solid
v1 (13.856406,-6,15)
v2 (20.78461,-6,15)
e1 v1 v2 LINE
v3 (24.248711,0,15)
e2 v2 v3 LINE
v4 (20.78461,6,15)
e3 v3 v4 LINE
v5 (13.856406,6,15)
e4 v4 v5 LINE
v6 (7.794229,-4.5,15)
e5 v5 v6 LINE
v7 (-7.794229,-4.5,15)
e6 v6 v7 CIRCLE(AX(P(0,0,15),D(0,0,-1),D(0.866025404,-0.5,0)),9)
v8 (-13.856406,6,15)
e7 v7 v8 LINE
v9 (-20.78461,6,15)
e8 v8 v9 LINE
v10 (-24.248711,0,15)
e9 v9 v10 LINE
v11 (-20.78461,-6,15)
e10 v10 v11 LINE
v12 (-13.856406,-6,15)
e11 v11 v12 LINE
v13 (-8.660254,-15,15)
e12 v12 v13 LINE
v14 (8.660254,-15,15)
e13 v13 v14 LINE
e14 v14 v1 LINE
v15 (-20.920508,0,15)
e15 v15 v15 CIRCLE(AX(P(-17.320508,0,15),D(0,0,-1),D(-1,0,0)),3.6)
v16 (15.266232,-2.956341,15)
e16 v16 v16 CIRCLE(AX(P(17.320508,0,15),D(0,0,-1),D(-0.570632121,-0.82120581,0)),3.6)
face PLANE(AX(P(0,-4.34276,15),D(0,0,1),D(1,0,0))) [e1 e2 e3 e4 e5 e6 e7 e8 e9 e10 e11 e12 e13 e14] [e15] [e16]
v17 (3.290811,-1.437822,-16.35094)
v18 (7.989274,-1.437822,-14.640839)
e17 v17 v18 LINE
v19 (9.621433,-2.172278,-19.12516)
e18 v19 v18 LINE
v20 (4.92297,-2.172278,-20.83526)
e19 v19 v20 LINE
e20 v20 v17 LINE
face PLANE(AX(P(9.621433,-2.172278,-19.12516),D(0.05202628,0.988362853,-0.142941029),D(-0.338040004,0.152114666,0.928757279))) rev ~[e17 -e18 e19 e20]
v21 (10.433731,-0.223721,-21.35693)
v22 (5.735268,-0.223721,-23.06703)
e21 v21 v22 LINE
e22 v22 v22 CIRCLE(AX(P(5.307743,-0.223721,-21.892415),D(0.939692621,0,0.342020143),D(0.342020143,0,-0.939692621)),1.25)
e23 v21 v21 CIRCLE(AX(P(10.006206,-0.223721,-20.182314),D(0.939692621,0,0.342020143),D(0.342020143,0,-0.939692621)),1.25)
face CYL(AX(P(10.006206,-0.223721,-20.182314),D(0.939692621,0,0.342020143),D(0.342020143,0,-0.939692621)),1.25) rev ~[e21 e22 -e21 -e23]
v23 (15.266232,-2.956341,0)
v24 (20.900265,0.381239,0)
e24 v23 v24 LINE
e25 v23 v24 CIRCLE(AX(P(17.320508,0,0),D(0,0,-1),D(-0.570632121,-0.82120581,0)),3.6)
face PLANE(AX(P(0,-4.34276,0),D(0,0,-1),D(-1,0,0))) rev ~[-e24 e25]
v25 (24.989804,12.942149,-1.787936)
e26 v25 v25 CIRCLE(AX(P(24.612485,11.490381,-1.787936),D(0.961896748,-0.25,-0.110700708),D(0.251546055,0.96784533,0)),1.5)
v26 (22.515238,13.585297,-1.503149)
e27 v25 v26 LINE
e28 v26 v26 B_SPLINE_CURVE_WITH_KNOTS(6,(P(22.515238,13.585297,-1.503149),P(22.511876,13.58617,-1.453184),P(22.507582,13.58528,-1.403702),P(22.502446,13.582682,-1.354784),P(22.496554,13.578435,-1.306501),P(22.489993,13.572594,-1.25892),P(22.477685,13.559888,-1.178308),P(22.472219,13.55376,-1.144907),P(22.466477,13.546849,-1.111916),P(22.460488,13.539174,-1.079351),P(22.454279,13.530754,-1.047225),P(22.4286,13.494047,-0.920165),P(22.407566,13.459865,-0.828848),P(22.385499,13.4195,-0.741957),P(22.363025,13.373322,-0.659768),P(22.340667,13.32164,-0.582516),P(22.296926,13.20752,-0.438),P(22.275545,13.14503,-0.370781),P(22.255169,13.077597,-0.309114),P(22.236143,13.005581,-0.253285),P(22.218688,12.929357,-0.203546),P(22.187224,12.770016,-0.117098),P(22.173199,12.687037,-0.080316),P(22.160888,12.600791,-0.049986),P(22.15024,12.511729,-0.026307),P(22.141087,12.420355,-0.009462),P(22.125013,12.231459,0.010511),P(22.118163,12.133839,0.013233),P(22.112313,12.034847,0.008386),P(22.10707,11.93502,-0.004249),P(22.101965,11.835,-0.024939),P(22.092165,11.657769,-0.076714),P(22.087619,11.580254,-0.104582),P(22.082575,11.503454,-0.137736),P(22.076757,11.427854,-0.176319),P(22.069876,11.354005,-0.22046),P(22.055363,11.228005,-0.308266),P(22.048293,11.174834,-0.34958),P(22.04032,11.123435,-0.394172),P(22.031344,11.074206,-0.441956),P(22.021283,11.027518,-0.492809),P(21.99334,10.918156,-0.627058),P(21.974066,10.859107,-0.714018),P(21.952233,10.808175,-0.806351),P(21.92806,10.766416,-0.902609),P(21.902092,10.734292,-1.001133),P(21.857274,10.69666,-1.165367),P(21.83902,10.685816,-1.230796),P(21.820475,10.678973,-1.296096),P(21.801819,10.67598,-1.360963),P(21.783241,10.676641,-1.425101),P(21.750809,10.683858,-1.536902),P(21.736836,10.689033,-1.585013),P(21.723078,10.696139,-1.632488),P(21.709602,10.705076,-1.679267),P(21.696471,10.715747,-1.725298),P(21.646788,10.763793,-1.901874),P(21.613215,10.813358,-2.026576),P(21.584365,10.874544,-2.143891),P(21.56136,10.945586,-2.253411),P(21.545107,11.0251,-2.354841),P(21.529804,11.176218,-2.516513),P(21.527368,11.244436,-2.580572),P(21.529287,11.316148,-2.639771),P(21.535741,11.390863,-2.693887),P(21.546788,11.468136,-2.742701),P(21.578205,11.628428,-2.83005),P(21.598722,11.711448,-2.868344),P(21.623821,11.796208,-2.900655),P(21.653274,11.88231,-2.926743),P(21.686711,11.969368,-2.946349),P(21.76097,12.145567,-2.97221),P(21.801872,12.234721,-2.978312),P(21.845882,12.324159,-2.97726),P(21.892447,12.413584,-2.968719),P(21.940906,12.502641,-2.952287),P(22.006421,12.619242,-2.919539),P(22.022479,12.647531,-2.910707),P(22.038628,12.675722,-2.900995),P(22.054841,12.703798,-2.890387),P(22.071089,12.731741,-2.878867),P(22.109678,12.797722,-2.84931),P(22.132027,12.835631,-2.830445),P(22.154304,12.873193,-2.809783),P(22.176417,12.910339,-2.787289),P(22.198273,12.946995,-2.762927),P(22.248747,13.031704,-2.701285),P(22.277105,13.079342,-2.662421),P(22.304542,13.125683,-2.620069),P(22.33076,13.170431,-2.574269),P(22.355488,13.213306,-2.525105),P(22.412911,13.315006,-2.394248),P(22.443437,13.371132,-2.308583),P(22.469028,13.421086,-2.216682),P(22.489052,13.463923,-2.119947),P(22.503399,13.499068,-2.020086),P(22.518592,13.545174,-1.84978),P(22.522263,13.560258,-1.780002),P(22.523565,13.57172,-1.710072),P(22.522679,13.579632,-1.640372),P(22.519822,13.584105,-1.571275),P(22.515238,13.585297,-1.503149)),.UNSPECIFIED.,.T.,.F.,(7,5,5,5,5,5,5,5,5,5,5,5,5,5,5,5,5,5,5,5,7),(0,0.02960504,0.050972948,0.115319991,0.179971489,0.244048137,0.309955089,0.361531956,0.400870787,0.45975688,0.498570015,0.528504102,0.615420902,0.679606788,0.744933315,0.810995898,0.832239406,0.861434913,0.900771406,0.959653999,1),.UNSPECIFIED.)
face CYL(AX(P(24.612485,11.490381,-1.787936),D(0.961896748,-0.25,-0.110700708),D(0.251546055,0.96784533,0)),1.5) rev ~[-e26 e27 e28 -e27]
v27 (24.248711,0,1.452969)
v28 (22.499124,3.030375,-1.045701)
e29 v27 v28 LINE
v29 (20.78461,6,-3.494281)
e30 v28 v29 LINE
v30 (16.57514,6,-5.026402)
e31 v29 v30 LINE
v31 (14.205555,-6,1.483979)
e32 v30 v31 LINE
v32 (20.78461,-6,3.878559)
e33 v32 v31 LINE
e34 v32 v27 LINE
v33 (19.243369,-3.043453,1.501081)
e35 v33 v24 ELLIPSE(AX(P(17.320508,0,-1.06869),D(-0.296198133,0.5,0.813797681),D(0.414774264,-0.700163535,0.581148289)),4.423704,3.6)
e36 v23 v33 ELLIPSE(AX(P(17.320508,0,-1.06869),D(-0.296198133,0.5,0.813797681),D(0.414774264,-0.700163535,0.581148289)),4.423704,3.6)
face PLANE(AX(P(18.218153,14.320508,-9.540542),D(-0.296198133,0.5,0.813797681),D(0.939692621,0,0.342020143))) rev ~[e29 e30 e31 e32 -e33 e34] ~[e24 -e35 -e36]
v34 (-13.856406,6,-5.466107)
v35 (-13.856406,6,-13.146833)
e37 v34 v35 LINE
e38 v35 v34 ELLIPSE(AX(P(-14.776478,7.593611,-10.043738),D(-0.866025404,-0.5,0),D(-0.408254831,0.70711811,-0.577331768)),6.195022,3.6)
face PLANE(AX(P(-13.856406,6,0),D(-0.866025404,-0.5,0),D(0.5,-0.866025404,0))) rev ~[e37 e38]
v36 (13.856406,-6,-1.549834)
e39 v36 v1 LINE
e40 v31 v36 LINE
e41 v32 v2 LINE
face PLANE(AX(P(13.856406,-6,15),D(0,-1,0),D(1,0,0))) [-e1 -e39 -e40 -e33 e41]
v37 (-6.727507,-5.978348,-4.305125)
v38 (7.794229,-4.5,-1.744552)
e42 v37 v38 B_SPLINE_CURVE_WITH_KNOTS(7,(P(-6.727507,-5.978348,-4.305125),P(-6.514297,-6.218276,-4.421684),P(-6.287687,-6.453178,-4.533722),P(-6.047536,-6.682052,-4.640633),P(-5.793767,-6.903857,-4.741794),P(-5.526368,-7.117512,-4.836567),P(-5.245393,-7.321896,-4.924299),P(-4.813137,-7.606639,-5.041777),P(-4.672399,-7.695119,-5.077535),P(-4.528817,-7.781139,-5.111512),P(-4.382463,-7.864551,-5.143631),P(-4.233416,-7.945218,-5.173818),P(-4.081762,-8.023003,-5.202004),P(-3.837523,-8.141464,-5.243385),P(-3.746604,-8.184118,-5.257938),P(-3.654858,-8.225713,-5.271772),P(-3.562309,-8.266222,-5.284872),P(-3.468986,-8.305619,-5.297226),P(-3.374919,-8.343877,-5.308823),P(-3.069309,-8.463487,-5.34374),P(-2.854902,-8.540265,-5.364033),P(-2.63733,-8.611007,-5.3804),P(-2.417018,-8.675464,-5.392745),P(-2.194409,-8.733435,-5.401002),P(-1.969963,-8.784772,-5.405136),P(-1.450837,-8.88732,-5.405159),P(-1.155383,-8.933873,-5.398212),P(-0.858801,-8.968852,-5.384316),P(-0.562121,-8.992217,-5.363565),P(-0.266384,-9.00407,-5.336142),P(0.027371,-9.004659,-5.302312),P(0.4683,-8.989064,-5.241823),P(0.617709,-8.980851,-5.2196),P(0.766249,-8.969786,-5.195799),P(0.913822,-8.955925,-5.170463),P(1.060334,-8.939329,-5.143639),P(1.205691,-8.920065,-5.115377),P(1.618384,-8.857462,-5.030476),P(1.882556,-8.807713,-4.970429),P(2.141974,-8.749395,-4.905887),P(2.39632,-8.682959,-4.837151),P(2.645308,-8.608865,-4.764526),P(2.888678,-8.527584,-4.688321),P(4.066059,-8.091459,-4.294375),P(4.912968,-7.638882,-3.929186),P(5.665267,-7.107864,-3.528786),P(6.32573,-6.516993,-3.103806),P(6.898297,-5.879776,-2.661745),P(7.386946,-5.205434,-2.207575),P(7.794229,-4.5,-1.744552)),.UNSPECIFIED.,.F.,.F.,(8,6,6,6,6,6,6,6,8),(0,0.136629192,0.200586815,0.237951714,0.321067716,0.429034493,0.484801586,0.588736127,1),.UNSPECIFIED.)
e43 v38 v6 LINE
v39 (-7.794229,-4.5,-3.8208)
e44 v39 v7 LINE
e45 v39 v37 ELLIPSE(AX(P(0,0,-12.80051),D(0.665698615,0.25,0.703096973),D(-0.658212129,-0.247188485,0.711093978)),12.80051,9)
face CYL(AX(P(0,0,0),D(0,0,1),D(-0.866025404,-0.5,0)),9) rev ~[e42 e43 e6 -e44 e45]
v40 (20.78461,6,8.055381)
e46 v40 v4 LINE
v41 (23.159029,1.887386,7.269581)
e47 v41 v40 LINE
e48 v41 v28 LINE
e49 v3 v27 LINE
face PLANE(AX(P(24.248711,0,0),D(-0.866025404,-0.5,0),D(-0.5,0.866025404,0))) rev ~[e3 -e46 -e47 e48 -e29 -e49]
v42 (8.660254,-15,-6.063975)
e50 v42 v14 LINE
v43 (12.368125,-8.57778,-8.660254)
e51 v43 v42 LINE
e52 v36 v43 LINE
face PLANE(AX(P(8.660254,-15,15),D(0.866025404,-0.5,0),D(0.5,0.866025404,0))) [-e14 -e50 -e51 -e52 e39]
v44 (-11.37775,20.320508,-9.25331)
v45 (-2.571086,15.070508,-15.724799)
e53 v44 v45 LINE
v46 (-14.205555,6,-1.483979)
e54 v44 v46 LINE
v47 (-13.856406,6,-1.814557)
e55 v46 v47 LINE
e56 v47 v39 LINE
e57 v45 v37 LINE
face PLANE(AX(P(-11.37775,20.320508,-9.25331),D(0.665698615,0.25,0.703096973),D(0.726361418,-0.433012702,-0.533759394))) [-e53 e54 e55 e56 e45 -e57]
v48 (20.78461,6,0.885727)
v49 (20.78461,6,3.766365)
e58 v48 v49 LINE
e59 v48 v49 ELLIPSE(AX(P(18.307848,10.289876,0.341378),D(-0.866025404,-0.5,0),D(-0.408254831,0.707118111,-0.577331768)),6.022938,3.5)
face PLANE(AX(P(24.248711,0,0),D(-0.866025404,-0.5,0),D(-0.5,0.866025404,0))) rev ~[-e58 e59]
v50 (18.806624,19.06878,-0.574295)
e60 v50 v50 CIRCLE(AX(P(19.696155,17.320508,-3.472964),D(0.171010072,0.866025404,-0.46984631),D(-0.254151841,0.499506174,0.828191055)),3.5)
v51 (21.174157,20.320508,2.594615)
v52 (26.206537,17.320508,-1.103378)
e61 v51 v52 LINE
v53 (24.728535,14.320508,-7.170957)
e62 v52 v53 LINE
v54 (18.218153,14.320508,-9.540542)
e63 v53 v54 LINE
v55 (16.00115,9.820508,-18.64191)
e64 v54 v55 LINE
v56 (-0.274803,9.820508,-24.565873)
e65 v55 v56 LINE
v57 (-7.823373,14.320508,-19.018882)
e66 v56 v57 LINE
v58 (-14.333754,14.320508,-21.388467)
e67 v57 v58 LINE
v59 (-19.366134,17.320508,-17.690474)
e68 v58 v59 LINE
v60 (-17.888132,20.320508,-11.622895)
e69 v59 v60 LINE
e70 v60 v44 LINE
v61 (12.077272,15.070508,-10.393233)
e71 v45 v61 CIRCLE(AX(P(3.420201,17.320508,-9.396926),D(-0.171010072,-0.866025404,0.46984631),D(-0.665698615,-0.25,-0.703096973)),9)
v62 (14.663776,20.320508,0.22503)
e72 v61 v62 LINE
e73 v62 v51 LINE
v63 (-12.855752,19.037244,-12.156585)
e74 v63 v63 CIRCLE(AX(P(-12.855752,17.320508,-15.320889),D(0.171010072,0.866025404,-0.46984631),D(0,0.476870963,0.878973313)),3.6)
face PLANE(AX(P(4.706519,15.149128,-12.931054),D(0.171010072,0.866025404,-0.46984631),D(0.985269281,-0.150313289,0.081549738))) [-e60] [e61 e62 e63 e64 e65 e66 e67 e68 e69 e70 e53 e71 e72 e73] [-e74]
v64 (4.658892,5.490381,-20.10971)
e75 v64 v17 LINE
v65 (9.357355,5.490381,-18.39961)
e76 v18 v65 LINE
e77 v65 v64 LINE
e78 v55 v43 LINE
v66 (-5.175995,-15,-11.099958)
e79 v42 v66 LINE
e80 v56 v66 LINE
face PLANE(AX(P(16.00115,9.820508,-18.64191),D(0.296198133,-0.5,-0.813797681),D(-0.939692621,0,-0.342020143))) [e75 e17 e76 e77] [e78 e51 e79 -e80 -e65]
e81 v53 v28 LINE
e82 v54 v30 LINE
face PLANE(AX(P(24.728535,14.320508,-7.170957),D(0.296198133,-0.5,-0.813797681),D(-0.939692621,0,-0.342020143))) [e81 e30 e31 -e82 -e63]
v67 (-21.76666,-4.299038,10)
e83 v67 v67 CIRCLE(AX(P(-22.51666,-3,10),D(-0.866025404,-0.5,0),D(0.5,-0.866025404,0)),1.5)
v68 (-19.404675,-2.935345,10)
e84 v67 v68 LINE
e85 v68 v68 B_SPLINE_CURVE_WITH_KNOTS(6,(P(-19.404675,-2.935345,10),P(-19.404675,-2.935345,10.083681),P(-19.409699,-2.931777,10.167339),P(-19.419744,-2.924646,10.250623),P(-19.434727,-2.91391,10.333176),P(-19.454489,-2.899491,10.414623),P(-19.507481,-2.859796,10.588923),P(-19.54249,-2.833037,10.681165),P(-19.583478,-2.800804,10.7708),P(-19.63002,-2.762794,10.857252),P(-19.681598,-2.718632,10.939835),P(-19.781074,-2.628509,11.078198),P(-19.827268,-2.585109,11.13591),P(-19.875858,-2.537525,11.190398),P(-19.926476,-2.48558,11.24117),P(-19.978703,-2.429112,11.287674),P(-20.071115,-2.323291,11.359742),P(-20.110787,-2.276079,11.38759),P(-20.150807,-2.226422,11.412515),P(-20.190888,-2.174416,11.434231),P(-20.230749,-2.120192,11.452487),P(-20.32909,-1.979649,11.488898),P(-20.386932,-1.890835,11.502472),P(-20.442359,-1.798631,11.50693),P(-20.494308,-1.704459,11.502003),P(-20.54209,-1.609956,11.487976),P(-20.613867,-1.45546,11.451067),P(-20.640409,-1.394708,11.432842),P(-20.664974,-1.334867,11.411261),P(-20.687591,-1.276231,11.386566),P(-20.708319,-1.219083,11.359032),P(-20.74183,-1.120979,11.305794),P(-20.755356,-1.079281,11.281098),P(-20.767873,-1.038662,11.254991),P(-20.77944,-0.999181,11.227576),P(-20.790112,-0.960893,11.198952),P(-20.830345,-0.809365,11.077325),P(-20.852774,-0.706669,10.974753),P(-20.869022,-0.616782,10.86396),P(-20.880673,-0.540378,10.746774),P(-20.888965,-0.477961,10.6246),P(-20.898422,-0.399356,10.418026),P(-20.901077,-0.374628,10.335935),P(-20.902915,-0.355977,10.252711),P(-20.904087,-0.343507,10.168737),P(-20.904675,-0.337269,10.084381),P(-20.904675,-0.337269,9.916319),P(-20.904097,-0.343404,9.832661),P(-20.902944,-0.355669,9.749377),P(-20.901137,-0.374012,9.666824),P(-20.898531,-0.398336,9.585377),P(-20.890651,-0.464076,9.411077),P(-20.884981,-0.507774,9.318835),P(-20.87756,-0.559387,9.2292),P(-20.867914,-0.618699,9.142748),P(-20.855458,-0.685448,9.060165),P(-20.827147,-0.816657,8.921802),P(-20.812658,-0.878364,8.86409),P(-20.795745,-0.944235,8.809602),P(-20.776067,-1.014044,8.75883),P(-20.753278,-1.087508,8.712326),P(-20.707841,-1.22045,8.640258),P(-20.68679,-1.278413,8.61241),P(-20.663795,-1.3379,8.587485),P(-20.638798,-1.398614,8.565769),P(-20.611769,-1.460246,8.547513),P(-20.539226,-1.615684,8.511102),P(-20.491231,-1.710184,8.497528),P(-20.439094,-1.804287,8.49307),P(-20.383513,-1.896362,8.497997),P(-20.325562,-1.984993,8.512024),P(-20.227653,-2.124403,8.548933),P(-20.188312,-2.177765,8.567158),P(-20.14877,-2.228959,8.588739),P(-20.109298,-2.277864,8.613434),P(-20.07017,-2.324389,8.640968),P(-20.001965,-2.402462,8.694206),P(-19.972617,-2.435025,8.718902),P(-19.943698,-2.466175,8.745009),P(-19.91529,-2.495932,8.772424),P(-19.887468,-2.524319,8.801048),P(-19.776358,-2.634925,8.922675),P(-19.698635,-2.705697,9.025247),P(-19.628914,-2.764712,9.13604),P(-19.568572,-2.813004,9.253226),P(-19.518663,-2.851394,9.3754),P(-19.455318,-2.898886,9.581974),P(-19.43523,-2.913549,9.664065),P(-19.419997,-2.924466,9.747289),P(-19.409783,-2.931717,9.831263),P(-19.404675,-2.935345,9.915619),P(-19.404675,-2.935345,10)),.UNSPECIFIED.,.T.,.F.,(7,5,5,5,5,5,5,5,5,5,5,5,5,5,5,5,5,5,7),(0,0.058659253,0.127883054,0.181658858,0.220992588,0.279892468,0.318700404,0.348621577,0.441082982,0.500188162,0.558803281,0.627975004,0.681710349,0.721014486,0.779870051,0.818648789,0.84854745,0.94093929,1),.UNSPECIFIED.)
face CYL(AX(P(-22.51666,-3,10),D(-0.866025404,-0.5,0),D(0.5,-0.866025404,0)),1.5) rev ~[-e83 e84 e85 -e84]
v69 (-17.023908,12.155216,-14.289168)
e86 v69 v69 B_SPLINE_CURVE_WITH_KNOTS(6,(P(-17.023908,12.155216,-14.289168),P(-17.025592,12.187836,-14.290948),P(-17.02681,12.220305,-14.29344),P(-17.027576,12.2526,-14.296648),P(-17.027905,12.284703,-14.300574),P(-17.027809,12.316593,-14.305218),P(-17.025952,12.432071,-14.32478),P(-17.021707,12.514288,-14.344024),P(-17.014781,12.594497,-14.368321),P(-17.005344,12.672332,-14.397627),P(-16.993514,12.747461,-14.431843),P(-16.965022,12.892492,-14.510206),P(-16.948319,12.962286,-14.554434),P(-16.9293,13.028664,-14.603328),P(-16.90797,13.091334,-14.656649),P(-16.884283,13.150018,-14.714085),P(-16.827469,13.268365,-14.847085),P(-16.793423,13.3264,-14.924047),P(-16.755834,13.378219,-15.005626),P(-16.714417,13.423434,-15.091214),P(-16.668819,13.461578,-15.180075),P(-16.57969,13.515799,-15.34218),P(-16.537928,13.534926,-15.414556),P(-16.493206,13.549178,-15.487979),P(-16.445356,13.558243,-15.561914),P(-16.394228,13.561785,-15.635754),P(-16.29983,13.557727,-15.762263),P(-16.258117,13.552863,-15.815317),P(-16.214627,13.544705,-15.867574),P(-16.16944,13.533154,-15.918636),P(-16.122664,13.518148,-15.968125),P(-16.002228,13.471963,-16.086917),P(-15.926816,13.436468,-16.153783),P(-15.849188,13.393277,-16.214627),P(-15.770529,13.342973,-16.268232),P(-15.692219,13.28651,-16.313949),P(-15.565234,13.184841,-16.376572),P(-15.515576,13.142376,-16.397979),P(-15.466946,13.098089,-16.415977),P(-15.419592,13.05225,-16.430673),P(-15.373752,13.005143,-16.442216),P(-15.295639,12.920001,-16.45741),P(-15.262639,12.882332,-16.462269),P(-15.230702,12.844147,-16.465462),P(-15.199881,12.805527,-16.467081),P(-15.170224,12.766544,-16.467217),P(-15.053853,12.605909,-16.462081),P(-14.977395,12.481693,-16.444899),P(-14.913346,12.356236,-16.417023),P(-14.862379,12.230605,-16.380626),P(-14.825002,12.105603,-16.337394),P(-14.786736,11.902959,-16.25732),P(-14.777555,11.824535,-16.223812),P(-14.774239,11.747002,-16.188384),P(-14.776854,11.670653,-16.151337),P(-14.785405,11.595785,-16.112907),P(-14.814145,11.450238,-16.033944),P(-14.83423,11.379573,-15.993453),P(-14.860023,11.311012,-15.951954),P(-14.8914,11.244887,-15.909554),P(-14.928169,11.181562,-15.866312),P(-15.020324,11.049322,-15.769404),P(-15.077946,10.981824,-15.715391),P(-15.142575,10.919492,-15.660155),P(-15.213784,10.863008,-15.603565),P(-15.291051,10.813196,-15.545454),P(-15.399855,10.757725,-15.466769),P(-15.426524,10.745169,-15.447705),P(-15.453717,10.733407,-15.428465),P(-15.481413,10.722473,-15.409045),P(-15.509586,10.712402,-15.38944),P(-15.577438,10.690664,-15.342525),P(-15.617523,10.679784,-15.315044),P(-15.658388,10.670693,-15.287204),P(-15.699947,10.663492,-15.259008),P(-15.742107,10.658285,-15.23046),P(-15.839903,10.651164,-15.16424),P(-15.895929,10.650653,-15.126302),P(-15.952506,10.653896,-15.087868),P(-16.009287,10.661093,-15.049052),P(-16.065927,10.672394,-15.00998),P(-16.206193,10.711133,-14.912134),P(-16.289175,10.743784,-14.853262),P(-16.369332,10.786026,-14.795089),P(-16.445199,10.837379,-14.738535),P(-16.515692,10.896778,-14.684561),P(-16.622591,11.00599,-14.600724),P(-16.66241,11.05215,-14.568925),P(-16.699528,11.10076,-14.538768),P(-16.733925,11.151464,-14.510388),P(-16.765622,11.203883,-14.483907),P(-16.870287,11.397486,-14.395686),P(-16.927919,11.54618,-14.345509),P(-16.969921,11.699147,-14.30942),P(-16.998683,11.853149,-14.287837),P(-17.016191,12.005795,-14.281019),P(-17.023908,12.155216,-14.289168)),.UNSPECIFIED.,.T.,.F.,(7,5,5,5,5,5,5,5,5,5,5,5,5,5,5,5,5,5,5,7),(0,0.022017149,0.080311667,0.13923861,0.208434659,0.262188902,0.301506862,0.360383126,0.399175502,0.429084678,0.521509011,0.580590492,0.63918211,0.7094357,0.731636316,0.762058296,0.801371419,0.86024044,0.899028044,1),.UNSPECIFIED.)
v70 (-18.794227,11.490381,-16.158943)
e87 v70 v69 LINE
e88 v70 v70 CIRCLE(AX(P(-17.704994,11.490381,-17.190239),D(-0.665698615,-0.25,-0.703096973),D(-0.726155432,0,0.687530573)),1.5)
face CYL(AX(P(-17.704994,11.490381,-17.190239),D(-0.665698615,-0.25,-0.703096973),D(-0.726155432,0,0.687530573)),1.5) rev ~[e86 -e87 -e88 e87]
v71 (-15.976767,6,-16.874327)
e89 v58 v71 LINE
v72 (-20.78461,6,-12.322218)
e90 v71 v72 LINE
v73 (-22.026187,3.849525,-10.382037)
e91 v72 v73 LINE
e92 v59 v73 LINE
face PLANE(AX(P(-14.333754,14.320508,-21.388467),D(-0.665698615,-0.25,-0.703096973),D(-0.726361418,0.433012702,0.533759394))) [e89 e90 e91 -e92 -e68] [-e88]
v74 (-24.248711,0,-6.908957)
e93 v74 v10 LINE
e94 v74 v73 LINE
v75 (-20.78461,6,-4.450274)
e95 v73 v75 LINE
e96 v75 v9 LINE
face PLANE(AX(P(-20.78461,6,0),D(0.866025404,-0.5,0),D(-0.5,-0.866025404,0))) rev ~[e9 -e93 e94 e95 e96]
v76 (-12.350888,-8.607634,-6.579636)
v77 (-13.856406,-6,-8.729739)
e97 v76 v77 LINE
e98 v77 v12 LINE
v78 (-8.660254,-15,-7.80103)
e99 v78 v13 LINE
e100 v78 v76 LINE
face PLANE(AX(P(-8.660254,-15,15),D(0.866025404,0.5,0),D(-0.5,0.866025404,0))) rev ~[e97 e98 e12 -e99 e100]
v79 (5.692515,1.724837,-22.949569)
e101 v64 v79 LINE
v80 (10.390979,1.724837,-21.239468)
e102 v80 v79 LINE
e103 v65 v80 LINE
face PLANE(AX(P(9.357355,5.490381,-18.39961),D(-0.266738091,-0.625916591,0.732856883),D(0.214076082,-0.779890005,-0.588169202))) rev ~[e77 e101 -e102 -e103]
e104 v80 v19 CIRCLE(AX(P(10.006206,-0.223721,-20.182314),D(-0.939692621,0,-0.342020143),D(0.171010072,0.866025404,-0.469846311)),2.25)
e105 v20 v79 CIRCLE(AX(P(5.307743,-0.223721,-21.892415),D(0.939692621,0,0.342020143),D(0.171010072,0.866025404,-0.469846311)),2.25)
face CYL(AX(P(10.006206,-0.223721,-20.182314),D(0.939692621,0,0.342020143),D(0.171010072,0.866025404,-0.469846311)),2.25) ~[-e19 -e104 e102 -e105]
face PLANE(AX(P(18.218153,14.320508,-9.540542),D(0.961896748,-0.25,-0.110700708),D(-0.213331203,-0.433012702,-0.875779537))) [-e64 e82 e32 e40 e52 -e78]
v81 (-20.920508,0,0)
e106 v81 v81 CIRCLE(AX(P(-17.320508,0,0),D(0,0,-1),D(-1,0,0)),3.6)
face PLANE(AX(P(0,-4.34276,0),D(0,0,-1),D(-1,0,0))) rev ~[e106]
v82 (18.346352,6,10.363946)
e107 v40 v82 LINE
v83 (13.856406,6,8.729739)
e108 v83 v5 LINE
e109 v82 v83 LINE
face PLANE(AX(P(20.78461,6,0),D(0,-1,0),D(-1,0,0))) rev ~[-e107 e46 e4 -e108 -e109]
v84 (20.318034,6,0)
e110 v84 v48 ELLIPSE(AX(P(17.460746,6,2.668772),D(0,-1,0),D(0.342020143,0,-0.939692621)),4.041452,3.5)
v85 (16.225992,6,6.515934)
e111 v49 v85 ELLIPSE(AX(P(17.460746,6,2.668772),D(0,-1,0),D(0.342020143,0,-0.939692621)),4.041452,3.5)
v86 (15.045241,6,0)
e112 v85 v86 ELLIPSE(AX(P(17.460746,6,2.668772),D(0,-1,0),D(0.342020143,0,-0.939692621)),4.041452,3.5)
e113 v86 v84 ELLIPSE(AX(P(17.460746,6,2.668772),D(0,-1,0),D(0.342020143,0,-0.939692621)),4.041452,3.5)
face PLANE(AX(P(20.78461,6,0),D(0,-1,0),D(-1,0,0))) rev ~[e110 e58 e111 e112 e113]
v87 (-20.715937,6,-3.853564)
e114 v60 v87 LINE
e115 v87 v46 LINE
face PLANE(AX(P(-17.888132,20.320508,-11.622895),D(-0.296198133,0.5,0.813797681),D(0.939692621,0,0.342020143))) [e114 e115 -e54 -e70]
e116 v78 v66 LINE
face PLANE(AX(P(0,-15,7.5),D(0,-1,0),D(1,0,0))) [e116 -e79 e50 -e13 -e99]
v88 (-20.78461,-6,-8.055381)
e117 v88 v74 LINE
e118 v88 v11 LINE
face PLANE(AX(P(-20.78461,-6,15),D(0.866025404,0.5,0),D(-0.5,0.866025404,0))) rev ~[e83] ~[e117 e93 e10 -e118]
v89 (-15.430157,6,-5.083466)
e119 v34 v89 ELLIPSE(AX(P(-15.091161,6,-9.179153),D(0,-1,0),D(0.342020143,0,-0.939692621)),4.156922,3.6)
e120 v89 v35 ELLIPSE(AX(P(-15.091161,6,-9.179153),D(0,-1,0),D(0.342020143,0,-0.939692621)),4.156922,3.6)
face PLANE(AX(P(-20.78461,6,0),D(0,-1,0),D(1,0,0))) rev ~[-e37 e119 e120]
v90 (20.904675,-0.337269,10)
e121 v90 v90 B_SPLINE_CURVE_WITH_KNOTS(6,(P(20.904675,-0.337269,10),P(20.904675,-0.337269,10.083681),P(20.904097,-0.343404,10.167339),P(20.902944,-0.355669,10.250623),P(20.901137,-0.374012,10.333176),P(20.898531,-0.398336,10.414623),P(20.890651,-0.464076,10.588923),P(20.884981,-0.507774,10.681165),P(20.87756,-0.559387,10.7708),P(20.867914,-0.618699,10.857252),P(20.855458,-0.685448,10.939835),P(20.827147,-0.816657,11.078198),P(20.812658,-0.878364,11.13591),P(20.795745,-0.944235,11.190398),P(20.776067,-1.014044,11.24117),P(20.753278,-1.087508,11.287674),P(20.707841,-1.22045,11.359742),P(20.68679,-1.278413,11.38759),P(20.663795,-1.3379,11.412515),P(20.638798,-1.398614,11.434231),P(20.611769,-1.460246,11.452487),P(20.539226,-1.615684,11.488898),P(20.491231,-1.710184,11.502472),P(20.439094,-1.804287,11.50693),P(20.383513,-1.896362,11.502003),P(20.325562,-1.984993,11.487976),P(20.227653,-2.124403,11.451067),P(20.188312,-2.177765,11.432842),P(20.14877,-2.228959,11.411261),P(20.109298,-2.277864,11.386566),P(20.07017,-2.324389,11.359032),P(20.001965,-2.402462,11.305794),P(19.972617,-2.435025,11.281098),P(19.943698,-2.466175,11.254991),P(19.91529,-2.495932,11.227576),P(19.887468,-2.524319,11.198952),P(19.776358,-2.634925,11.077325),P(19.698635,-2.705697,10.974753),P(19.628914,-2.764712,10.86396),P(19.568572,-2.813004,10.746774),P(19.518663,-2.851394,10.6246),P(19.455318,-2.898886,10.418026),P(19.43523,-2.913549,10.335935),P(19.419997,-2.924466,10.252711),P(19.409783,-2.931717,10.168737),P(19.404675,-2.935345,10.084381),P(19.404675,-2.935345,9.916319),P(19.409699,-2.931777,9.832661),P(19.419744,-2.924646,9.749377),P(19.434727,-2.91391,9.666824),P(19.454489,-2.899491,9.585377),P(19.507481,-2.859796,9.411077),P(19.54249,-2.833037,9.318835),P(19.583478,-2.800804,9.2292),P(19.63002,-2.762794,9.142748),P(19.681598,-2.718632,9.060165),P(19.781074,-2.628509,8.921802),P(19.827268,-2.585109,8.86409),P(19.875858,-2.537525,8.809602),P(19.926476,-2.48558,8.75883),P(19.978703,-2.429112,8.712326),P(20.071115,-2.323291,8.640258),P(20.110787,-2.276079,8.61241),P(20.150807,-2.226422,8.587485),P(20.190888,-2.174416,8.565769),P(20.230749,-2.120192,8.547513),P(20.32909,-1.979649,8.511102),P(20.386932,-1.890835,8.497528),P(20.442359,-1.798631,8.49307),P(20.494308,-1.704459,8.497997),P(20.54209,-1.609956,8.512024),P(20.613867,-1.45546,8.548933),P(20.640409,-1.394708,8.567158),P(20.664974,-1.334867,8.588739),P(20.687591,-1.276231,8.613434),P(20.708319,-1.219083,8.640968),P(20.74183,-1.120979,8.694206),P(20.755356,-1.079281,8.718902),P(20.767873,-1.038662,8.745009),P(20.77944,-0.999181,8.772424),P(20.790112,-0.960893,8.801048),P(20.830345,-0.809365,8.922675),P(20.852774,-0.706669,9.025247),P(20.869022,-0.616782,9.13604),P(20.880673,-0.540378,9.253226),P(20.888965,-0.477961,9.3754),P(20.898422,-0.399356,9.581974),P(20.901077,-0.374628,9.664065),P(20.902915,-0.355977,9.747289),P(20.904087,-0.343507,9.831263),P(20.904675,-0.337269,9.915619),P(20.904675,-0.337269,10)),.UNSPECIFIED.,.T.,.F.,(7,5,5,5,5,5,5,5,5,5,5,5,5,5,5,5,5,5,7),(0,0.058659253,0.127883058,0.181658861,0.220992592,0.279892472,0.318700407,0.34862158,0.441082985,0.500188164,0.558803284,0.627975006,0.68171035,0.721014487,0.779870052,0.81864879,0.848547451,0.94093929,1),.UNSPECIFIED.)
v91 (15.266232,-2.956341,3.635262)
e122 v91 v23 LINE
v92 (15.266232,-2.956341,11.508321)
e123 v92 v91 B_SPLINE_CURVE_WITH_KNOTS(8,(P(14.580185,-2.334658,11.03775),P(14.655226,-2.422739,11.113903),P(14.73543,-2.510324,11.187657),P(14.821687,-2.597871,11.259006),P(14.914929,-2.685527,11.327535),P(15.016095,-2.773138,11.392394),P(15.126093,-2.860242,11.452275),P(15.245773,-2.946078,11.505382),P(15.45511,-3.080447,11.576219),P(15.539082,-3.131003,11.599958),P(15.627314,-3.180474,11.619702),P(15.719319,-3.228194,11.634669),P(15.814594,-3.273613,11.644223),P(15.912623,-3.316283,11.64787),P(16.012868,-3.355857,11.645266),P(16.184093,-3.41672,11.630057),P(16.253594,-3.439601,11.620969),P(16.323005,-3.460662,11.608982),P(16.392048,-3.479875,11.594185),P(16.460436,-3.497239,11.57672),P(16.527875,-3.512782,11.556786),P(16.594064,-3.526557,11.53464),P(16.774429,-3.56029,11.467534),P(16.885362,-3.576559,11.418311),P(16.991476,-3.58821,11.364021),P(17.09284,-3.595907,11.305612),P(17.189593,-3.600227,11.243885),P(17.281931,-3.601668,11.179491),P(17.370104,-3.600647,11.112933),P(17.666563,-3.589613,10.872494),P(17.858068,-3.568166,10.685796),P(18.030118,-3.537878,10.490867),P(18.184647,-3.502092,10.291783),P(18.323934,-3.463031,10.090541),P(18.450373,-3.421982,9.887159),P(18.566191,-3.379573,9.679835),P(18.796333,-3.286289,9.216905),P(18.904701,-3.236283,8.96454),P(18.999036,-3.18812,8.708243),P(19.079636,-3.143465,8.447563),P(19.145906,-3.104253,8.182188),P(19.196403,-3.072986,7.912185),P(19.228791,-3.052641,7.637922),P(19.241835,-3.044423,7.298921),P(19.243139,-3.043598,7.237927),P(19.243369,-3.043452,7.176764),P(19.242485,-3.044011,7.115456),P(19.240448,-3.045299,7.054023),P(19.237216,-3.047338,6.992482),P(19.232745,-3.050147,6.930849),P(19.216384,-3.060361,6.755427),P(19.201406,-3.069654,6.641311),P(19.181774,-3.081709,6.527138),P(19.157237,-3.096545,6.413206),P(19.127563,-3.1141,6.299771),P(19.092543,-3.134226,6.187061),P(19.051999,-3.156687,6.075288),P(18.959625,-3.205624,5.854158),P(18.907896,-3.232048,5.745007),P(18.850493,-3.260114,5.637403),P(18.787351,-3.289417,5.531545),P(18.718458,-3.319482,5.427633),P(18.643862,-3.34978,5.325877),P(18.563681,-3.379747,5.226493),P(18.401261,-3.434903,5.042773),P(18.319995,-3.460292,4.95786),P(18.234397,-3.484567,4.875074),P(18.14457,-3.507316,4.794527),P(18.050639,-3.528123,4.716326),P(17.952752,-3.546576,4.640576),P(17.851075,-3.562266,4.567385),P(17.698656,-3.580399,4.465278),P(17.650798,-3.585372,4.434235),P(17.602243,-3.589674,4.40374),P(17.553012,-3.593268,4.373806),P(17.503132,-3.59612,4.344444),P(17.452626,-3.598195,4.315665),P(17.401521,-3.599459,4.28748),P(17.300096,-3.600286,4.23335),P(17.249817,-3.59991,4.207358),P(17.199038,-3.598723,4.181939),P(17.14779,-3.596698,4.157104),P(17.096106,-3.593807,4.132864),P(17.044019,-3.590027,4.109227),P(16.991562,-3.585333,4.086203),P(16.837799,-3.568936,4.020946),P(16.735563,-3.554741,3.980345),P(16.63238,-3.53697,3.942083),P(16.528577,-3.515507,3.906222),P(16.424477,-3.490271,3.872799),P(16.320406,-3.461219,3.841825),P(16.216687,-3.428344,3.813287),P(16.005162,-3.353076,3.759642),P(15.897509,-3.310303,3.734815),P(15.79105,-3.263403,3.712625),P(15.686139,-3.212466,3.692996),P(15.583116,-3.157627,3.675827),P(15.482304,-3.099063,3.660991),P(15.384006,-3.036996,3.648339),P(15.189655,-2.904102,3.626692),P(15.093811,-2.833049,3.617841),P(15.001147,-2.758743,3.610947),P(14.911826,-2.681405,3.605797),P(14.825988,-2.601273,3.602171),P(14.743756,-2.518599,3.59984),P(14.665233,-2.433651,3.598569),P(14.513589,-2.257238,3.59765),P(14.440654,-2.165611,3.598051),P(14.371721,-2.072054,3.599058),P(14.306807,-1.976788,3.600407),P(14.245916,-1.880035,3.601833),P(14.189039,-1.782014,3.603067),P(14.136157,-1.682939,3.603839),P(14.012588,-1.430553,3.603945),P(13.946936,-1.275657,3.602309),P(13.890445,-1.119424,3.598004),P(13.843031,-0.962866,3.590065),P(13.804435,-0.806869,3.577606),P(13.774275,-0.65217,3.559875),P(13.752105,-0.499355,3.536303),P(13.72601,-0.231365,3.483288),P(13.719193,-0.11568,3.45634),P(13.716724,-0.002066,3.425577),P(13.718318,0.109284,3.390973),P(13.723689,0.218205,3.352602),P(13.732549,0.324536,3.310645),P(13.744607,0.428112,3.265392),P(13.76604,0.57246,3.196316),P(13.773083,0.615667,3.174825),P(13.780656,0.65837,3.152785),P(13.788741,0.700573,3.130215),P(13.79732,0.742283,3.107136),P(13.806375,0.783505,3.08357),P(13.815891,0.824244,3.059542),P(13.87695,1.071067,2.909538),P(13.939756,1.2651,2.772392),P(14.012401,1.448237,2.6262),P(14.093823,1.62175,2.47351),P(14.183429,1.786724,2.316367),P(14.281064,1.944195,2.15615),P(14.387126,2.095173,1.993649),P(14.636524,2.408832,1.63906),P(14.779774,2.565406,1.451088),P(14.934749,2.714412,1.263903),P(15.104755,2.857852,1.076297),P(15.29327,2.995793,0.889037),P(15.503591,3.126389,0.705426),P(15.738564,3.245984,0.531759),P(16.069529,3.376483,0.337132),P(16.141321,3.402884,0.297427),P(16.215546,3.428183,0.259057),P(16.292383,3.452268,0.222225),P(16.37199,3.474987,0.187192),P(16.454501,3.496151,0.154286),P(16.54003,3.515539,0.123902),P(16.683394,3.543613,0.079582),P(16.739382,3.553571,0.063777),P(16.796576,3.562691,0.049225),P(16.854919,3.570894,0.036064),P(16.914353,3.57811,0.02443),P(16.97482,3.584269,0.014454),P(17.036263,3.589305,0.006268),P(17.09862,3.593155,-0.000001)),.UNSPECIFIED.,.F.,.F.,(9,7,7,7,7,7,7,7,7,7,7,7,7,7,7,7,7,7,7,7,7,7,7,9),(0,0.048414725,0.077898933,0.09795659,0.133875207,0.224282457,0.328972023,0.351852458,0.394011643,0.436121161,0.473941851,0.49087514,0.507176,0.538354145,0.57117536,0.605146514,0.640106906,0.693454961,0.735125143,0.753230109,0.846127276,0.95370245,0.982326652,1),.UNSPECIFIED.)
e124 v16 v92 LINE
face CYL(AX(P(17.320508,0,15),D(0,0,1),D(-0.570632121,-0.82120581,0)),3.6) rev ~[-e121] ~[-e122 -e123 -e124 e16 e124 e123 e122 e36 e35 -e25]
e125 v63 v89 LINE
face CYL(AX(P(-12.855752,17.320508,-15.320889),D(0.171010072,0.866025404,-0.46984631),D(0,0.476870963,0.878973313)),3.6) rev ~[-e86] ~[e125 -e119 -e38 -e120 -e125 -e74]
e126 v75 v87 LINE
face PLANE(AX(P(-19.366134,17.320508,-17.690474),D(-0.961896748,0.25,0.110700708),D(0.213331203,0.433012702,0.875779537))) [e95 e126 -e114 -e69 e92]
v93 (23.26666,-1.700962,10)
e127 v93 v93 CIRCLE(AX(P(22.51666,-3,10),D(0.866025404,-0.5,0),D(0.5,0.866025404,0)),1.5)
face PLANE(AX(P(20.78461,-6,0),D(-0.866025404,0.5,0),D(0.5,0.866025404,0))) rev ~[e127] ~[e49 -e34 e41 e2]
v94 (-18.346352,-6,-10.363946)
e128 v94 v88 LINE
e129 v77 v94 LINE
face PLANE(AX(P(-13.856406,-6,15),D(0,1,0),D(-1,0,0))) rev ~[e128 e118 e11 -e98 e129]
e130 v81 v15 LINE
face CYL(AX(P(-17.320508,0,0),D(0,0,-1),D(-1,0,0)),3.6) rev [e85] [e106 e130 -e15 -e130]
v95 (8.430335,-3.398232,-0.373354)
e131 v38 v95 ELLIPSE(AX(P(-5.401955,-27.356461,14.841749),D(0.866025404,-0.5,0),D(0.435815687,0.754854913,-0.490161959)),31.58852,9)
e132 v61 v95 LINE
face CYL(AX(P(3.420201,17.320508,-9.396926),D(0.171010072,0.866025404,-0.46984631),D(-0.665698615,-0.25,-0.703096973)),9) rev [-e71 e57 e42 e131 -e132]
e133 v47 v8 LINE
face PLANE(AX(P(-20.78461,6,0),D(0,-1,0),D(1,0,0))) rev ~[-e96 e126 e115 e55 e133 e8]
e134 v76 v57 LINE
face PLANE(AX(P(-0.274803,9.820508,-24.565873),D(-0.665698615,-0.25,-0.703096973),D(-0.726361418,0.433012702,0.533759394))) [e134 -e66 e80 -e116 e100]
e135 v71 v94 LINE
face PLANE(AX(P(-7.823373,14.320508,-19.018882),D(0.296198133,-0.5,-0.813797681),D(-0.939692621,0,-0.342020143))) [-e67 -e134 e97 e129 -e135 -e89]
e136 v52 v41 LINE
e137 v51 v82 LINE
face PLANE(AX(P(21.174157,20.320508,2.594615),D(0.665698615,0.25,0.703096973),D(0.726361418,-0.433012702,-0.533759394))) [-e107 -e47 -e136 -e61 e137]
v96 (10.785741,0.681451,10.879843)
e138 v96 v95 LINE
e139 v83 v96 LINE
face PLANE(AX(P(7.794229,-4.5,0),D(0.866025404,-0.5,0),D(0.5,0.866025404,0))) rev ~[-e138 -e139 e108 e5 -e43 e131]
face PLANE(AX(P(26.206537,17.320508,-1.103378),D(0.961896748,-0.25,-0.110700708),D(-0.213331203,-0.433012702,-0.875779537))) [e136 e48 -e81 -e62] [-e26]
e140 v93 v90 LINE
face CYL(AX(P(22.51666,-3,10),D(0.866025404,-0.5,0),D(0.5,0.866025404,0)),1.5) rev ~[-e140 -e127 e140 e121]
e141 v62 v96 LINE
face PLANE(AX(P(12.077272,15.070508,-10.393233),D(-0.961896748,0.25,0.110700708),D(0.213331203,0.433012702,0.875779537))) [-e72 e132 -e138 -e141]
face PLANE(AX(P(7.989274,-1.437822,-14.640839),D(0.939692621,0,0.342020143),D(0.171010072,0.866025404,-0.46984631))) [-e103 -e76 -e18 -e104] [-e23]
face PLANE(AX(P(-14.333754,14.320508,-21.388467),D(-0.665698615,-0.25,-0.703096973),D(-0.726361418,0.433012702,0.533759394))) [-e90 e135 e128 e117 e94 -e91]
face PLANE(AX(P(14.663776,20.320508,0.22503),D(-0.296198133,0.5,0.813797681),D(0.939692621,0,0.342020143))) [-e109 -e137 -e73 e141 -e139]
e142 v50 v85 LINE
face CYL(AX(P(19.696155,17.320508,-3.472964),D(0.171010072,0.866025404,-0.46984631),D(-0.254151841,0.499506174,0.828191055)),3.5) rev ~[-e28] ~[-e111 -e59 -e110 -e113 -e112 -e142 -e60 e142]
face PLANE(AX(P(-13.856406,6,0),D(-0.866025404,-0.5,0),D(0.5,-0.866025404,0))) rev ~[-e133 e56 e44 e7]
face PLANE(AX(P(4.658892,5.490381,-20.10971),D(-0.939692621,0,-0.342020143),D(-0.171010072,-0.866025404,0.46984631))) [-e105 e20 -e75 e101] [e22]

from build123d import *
from build123d.topology import SkipClean

# Parameters (mm, degrees)
SKETCH5_R                      = 3.6
BOSS_EXTRUDE2_DEPTH            = 15
BOSS_EXTRUDE3_REACH            = 51.045
SKETCH6_R                      = 3.5
SKETCH6_R_2                    = 3.6
SKETCH7_R                      = 3.6
SKETCH7_R_2                    = 9
CUT_EXTRUDE1_DEPTH             = 15
SKETCH8_W                      = 48.497422612
SKETCH8_H                      = 6.75711345
CUT_EXTRUDE2_DEPTH             = 42.269694796
CUT_EXTRUDE2_DEPTH_BACK        = 42.269694796
CUT_EXTRUDE3_DEPTH             = 52.625225339
CUT_EXTRUDE3_DEPTH_BACK        = 52.625225339
BOSS_EXTRUDE4_REACH            = 43.27
CUT_EXTRUDE4_DEPTH             = 50.044816115
CUT_EXTRUDE4_DEPTH_BACK        = 50.044816115
CUT_EXTRUDE5_REACH             = 61.364
CUT_EXTRUDE5_END_RADIUS        = 3.6
SKETCH12_R                     = 1.5
CUT_EXTRUDE5_DIRECTION_2_DEPTH = 60.36438735
CUT_EXTRUDE6_REACH             = 59.915
CUT_EXTRUDE6_END_RADIUS        = 3.6
SKETCH13_R                     = 1.5
CUT_EXTRUDE7_REACH             = 57.894
CUT_EXTRUDE7_END_RADIUS        = 3.5
SKETCH14_R                     = 1.5
CUT_EXTRUDE8_REACH             = 58.167
CUT_EXTRUDE8_END_RADIUS        = 3.6
SKETCH15_R                     = 1.5
BOSS_EXTRUDE5_DEPTH            = 7
SKETCH17_R                     = 1.25
CUT_EXTRUDE9_DEPTH             = 43.79253318
CUT_EXTRUDE10_REACH            = 44.793


with BuildPart() as part:
    # Sketch5 → Boss-Extrude2 (new body)
    with BuildSketch(Plane.XY):
        with BuildLine():
            Line((-13.856406461, -6), (-8.660254038, -15))
            Line((-8.660254038, -15), (8.660254038, -15))
            Line((8.660254038, -15), (13.856406461, -6))
            Line((13.856406461, -6), (20.784609691, -6))
            Line((20.784609691, -6), (24.248711306, 0))
            Line((24.248711306, 0), (20.784609691, 6))
            Line((20.784609691, 6), (13.856406461, 6))
            Line((13.856406461, 6), (7.794228634, -4.5))
            ThreePointArc((7.794228634, -4.5), (0, -9), (-7.794228634, -4.5))
            Line((-7.794228634, -4.5), (-13.856406461, 6))
            Line((-13.856406461, 6), (-20.784609691, 6))
            Line((-20.784609691, 6), (-24.248711306, 0))
            Line((-24.248711306, 0), (-20.784609691, -6))
            Line((-20.784609691, -6), (-13.856406461, -6))
        make_face()
        with Locations((17.320508076, 0)):
            Circle(SKETCH5_R, mode=Mode.SUBTRACT)
        with Locations(Location((-17.320508076, 0, 0), (0, 0, 180))):
            Circle(SKETCH5_R, mode=Mode.SUBTRACT)
    extrude(amount=BOSS_EXTRUDE2_DEPTH)

    # Boss-Extrude3: up to this face of the body (flat: up to its plane)
    boss_extrude3_end = Plane(part.part.faces().sort_by_distance((0, -15, 7.5))[0])
    # Sketch6 → Boss-Extrude3 (add, up to the picked face)
    with BuildSketch(Plane(origin=(3.420201433, 17.320508076, -9.396926208), x_dir=(0.9852692806486326, -0.15031328924160728, 0.08154973750721087), z_dir=(0.1710100716628295, 0.8660254037844416, -0.46984631039295055)), mode=Mode.PRIVATE) as boss_extrude3_sk1:
        with BuildLine():
            Line((-3.750248683, 16.909631422), (-11.411676306, 9.888055617))
            Line((-11.411676306, 9.888055617), (-18.019394195, 11.970857649))
            Line((-18.019394195, 11.970857649), (-23.12701261, 7.289807113))
            Line((-23.12701261, 7.289807113), (-21.626913137, 0.525954544))
            Line((-21.626913137, 0.525954544), (-15.019195248, -1.556847488))
            Line((-15.019195248, -1.556847488), (-6.080863021, 6.634990951))
            ThreePointArc((-6.080863021, 6.634990951), (2.705639206, 8.583677329), (8.786502228, 1.948686378))
            Line((8.786502228, 1.948686378), (11.411676306, -9.888055617))
            Line((11.411676306, -9.888055617), (18.019394195, -11.970857649))
            Line((18.019394195, -11.970857649), (23.12701261, -7.289807113))
            Line((23.12701261, -7.289807113), (21.626913137, -0.525954544))
            Line((21.626913137, -0.525954544), (15.019195248, 1.556847488))
            Line((15.019195248, 1.556847488), (12.769046038, 11.702626341))
            Line((12.769046038, 11.702626341), (-3.750248683, 16.909631422))
        make_face()
        with Locations(Location((16.519294721, -5.20700508, 0), (0, 0, 255.051444771))):
            Circle(SKETCH6_R, mode=Mode.SUBTRACT)
        with Locations(Location((-16.519294721, 5.20700508, 0), (0, 0, 270))):
            Circle(SKETCH6_R_2, mode=Mode.SUBTRACT)
    boss_extrude3_tool1 = split(extrude(boss_extrude3_sk1.sketch, amount=-BOSS_EXTRUDE3_REACH, mode=Mode.PRIVATE), bisect_by=boss_extrude3_end, keep=Keep.BOTH, mode=Mode.PRIVATE)
    add(boss_extrude3_tool1.solids().sort_by(Axis((-3.686083, 12.206833, -21.408979), (-0.1710100716628295, -0.8660254037844416, 0.46984631039295055)))[0])

    # Sketch7 → Cut-Extrude1 (cut)
    with BuildSketch(Plane.XY.offset(15)):
        with Locations(Location((-17.320508076, 0, 0), (0, 0, 180))):
            Circle(SKETCH7_R)
        Circle(SKETCH7_R_2)
        with Locations(Location((17.320508076, 0, 0), (0, 0, 235.205682737))):
            Circle(SKETCH7_R)
    extrude(amount=-CUT_EXTRUDE1_DEPTH, mode=Mode.SUBTRACT)

    # Sketch8 → Cut-Extrude2 (cut, two sides)
    with BuildSketch(Plane(origin=(0, 0, 0), x_dir=(1, 0, 0), z_dir=(0, 1, 0))) as cut_extrude2_sk:
        with Locations((0, -18.378556725)):
            Rectangle(SKETCH8_W, SKETCH8_H)
    extrude(amount=CUT_EXTRUDE2_DEPTH, mode=Mode.SUBTRACT)
    extrude(cut_extrude2_sk.sketch, amount=-CUT_EXTRUDE2_DEPTH_BACK, mode=Mode.SUBTRACT)

    # Sketch9 → Cut-Extrude3 (cut, two sides)
    with BuildSketch(Plane.XY.offset(15)) as cut_extrude3_sk:
        Polygon((-8.660254038, -15), (-13.856406461, -6), (-20.784609691, -6), (-24.248711306, 0), (-25.748316405, -15), align=None)
        Polygon((8.660254038, -15), (13.856406461, -6), (20.784609691, -6), (24.248711306, 0), (19.659605529, -15), align=None)
    extrude(amount=CUT_EXTRUDE3_DEPTH, mode=Mode.SUBTRACT)
    extrude(cut_extrude3_sk.sketch, amount=-CUT_EXTRUDE3_DEPTH_BACK, mode=Mode.SUBTRACT)

    # Boss-Extrude4: up to this face of the body (flat: up to its plane)
    boss_extrude4_end = Plane(part.part.faces().sort_by_distance((5.307826124, -2.386655305, -15.033840033))[0])
    # Sketch10 → Boss-Extrude4 (add, up to the picked face)
    with BuildSketch(Plane(origin=(0, 0, 0), x_dir=(-1, 0, 0), z_dir=(0, 0, -1)), mode=Mode.PRIVATE) as boss_extrude4_sk1:
        with BuildLine():
            Line((-7.794228634, -4.5), (-13.856406461, 6))
            Line((-13.856406461, 6), (-20.784609691, 6))
            Line((-20.784609691, 6), (-24.248711306, 0))
            Line((-24.248711306, 0), (-20.784609691, -6))
            Line((-20.784609691, -6), (-13.856406461, -6))
            Line((-13.856406461, -6), (-8.660254038, -15))
            Line((-8.660254038, -15), (8.660254038, -15))
            Line((8.660254038, -15), (13.856406461, -6))
            Line((13.856406461, -6), (20.784609691, -6))
            Line((20.784609691, -6), (24.248711306, 0))
            Line((24.248711306, 0), (20.784609691, 6))
            Line((20.784609691, 6), (13.856406461, 6))
            Line((13.856406461, 6), (7.794228634, -4.5))
            ThreePointArc((7.794228634, -4.5), (0, -9), (-7.794228634, -4.5))
        make_face()
    boss_extrude4_tool1 = split(extrude(boss_extrude4_sk1.sketch, amount=BOSS_EXTRUDE4_REACH, mode=Mode.PRIVATE), bisect_by=boss_extrude4_end, keep=Keep.BOTH, mode=Mode.PRIVATE)
    add(boss_extrude4_tool1.solids().sort_by(Axis((11.283002, 0.485756, 0), (0, 0, -1)))[0])

    # Sketch11 → Cut-Extrude4 (cut, two sides)
    with SkipClean():  # the faces are left unmerged after this step: merging them gives an invalid solid
        with BuildSketch(Plane(origin=(3.420201433, 17.320508076, -9.396926208), x_dir=(0.9852692806486326, -0.15031328924160733, 0.08154973750721092), z_dir=(0.17101007166282958, 0.8660254037844416, -0.4698463103929507))) as cut_extrude4_sk:
            Polygon((-3.750248683, 16.909631422), (-11.411676306, 9.888055617), (-18.019394195, 11.970857649), (-24.454933942, 6.072788464), (-26.114385656, 23.958974435), align=None)
            Polygon((12.769046038, 11.702626341), (15.019195248, 1.556847488), (24.009999606, -1.277121199), (23.108119871, 8.443673045), align=None)
        extrude(amount=CUT_EXTRUDE4_DEPTH, mode=Mode.SUBTRACT)
        extrude(cut_extrude4_sk.sketch, amount=-CUT_EXTRUDE4_DEPTH_BACK, mode=Mode.SUBTRACT)

    # Cut-Extrude5: up to this cylinder (the profile starts outside it)
    with SkipClean():  # the faces are left unmerged after this step: merging them gives an invalid solid
        cut_extrude5_end = Plane(origin=(-17.320508076, 0, 10), z_dir=(0, 0, -1)) * Cylinder(CUT_EXTRUDE5_END_RADIUS, 130.928, mode=Mode.PRIVATE)
        # Sketch12 → Cut-Extrude5 (cut, up to the surface)
        with BuildSketch(Plane(origin=(-18.186533479, -10.5, 0), x_dir=(0, 0, 1), z_dir=(-0.8660254037844402, -0.4999999999999974, 0)), mode=Mode.PRIVATE) as cut_extrude5_sk1:
            with Locations(Location((10, 8.660254038, 0), (0, 0, 270))):
                Circle(SKETCH12_R)
        cut_extrude5_tool1 = extrude(cut_extrude5_sk1.sketch, amount=-CUT_EXTRUDE5_REACH, mode=Mode.PRIVATE) - cut_extrude5_end
        add(cut_extrude5_tool1.solids().sort_by_distance((-22.51666, -3, 10))[0], mode=Mode.SUBTRACT)

    # Sketch12 → Cut-Extrude5 direction 2 (cut)
    with SkipClean():  # the faces are left unmerged after this step: merging them gives an invalid solid
        with BuildSketch(Plane(origin=(-18.186533479, -10.5, 0), x_dir=(0, 0, 1), z_dir=(-0.8660254037844402, -0.4999999999999974, 0))):
            with Locations(Location((10, 8.660254038, 0), (0, 0, 270))):
                Circle(SKETCH12_R)
        extrude(amount=CUT_EXTRUDE5_DIRECTION_2_DEPTH, mode=Mode.SUBTRACT)

    # Cut-Extrude6: up to this cylinder (the profile starts outside it)
    with SkipClean():  # the faces are left unmerged after this step: merging them gives an invalid solid
        cut_extrude6_end = Plane(origin=(17.320508076, 0, 10), z_dir=(0, 0, -1)) * Cylinder(CUT_EXTRUDE6_END_RADIUS, 128.03, mode=Mode.PRIVATE)
        # Sketch13 → Cut-Extrude6 (cut, up to the surface)
        with BuildSketch(Plane(origin=(18.186533479, -10.5, 0), x_dir=(0, 0, -1), z_dir=(0.8660254037844402, -0.4999999999999974, 0)), mode=Mode.PRIVATE) as cut_extrude6_sk1:
            with Locations(Location((-10, 8.660254038, 0), (0, 0, 90))):
                Circle(SKETCH13_R)
        cut_extrude6_tool1 = extrude(cut_extrude6_sk1.sketch, amount=-CUT_EXTRUDE6_REACH, mode=Mode.PRIVATE) - cut_extrude6_end
        add(cut_extrude6_tool1.solids().sort_by_distance((22.51666, -3, 10))[0], mode=Mode.SUBTRACT)

    # Cut-Extrude7: up to this cylinder (the profile starts outside it)
    with SkipClean():  # the faces are left unmerged after this step: merging them gives an invalid solid
        cut_extrude7_end = Plane(origin=(18.841104668, 12.990380885, -1.123731908), z_dir=(0.1710100716628295, 0.8660254037844416, -0.46984631039295055)) * Cylinder(CUT_EXTRUDE7_END_RADIUS, 123.788, mode=Mode.PRIVATE)
        # Sketch14 → Cut-Extrude7 (cut, up to the surface)
        with BuildSketch(Plane(origin=(20.199831702, -5.25, -2.324714867), x_dir=(-0.10714116317598488, 0.027846326393864564, -0.9938537886729936), z_dir=(0.9618967477123858, -0.2499999999999971, -0.1107007079486697)), mode=Mode.PRIVATE) as cut_extrude7_sk1:
            with Locations(Location((-0.540098175, 17.3120852, 0), (0, 0, 90))):
                Circle(SKETCH14_R)
        cut_extrude7_tool1 = extrude(cut_extrude7_sk1.sketch, amount=-CUT_EXTRUDE7_REACH, mode=Mode.PRIVATE) - cut_extrude7_end
        add(cut_extrude7_tool1.solids().sort_by_distance((24.612485, 11.490381, -1.787936))[0], mode=Mode.SUBTRACT)

    # Cut-Extrude8: up to this cylinder (the profile starts outside it)
    with SkipClean():  # the faces are left unmerged after this step: merging them gives an invalid solid
        cut_extrude8_end = Plane(origin=(-13.710802565, 12.990380989, -12.971657273), z_dir=(0.1710100716628295, 0.8660254037844416, -0.46984631039295055)) * Cylinder(CUT_EXTRUDE8_END_RADIUS, 124.534, mode=Mode.PRIVATE)
        # Sketch15 → Cut-Extrude8 (cut, up to the surface)
        with BuildSketch(Plane(origin=(-13.979670915, -5.25, -14.765036441), x_dir=(-0.7462207140017174, 0.22302336376340076, 0.6272282082387757), z_dir=(-0.6656986149863668, -0.24999999999999695, -0.703096973400707)), mode=Mode.PRIVATE) as cut_extrude8_sk1:
            with Locations(Location((4.992253977, 16.585457492, 0), (0, 0, 346.683055075))):
                Circle(SKETCH15_R)
        cut_extrude8_tool1 = extrude(cut_extrude8_sk1.sketch, amount=-CUT_EXTRUDE8_REACH, mode=Mode.PRIVATE) - cut_extrude8_end
        add(cut_extrude8_tool1.solids().sort_by_distance((-17.704994, 11.490381, -17.190239))[0], mode=Mode.SUBTRACT)

    # Sketch16 → Boss-Extrude5 (add)
    with SkipClean():  # the faces are left unmerged after this step: merging them gives an invalid solid
        with BuildSketch(Plane(origin=(4.442971991, -7.5, -12.20696522), x_dir=(-0.9551265184097965, -0.15505701444619138, -0.25237007766653785), z_dir=(0.2961981327260197, -0.49999999999999495, -0.8137976813493785))):
            Polygon((-3.712913405, 6.439275895), (-5.145268749, 14.310003826), (-0.226063792, 15.205225916), (1.206291552, 7.334497985), align=None)
        extrude(amount=BOSS_EXTRUDE5_DEPTH)

    # Sketch17 → Cut-Extrude9 (cut, through all)
    with SkipClean():  # the faces are left unmerged after this step: merging them gives an invalid solid
        with BuildSketch(Plane(origin=(2.349231552, 0, 0.855050358), x_dir=(0.3420201433256625, 0, -0.9396926207859106), z_dir=(0.9396926207859108, 0, 0.34202014332566255))):
            with Locations((22.387495374, -0.223720558)):
                Circle(SKETCH17_R)
        extrude(amount=-CUT_EXTRUDE9_DEPTH, mode=Mode.SUBTRACT)

    # Sketch18 → Cut-Extrude10 (cut, up to next)
    with BuildSketch(Plane(origin=(2.349231552, 0, 0.855050358), x_dir=(0.3420201433256622, 0, -0.9396926207859108), z_dir=(0.9396926207859108, 0, 0.3420201433256622)), mode=Mode.PRIVATE) as cut_extrude10_sk1:
        with BuildLine():
            Line((20.490381057, 5.490381057), (23.512495374, 1.7248366))
            ThreePointArc((23.512495374, 1.7248366), (24.336052532, -1.348720558), (21.262495374, -2.172277717))
            Line((21.262495374, -2.172277717), (16.490381057, -1.437822174))
            Line((16.490381057, -1.437822174), (22.552558883, -4.937822174))
            Line((22.552558883, -4.937822174), (26.552558883, 1.990381057))
            Line((26.552558883, 1.990381057), (20.490381057, 5.490381057))
        make_face()
    cut_extrude10_tool1 = extrude(cut_extrude10_sk1.sketch, amount=-CUT_EXTRUDE10_REACH, mode=Mode.PRIVATE) & part.part
    add(cut_extrude10_tool1.solids().sort_by_distance((9.91282, 3.698312, -19.925739))[0], mode=Mode.SUBTRACT)


solid = part.part
